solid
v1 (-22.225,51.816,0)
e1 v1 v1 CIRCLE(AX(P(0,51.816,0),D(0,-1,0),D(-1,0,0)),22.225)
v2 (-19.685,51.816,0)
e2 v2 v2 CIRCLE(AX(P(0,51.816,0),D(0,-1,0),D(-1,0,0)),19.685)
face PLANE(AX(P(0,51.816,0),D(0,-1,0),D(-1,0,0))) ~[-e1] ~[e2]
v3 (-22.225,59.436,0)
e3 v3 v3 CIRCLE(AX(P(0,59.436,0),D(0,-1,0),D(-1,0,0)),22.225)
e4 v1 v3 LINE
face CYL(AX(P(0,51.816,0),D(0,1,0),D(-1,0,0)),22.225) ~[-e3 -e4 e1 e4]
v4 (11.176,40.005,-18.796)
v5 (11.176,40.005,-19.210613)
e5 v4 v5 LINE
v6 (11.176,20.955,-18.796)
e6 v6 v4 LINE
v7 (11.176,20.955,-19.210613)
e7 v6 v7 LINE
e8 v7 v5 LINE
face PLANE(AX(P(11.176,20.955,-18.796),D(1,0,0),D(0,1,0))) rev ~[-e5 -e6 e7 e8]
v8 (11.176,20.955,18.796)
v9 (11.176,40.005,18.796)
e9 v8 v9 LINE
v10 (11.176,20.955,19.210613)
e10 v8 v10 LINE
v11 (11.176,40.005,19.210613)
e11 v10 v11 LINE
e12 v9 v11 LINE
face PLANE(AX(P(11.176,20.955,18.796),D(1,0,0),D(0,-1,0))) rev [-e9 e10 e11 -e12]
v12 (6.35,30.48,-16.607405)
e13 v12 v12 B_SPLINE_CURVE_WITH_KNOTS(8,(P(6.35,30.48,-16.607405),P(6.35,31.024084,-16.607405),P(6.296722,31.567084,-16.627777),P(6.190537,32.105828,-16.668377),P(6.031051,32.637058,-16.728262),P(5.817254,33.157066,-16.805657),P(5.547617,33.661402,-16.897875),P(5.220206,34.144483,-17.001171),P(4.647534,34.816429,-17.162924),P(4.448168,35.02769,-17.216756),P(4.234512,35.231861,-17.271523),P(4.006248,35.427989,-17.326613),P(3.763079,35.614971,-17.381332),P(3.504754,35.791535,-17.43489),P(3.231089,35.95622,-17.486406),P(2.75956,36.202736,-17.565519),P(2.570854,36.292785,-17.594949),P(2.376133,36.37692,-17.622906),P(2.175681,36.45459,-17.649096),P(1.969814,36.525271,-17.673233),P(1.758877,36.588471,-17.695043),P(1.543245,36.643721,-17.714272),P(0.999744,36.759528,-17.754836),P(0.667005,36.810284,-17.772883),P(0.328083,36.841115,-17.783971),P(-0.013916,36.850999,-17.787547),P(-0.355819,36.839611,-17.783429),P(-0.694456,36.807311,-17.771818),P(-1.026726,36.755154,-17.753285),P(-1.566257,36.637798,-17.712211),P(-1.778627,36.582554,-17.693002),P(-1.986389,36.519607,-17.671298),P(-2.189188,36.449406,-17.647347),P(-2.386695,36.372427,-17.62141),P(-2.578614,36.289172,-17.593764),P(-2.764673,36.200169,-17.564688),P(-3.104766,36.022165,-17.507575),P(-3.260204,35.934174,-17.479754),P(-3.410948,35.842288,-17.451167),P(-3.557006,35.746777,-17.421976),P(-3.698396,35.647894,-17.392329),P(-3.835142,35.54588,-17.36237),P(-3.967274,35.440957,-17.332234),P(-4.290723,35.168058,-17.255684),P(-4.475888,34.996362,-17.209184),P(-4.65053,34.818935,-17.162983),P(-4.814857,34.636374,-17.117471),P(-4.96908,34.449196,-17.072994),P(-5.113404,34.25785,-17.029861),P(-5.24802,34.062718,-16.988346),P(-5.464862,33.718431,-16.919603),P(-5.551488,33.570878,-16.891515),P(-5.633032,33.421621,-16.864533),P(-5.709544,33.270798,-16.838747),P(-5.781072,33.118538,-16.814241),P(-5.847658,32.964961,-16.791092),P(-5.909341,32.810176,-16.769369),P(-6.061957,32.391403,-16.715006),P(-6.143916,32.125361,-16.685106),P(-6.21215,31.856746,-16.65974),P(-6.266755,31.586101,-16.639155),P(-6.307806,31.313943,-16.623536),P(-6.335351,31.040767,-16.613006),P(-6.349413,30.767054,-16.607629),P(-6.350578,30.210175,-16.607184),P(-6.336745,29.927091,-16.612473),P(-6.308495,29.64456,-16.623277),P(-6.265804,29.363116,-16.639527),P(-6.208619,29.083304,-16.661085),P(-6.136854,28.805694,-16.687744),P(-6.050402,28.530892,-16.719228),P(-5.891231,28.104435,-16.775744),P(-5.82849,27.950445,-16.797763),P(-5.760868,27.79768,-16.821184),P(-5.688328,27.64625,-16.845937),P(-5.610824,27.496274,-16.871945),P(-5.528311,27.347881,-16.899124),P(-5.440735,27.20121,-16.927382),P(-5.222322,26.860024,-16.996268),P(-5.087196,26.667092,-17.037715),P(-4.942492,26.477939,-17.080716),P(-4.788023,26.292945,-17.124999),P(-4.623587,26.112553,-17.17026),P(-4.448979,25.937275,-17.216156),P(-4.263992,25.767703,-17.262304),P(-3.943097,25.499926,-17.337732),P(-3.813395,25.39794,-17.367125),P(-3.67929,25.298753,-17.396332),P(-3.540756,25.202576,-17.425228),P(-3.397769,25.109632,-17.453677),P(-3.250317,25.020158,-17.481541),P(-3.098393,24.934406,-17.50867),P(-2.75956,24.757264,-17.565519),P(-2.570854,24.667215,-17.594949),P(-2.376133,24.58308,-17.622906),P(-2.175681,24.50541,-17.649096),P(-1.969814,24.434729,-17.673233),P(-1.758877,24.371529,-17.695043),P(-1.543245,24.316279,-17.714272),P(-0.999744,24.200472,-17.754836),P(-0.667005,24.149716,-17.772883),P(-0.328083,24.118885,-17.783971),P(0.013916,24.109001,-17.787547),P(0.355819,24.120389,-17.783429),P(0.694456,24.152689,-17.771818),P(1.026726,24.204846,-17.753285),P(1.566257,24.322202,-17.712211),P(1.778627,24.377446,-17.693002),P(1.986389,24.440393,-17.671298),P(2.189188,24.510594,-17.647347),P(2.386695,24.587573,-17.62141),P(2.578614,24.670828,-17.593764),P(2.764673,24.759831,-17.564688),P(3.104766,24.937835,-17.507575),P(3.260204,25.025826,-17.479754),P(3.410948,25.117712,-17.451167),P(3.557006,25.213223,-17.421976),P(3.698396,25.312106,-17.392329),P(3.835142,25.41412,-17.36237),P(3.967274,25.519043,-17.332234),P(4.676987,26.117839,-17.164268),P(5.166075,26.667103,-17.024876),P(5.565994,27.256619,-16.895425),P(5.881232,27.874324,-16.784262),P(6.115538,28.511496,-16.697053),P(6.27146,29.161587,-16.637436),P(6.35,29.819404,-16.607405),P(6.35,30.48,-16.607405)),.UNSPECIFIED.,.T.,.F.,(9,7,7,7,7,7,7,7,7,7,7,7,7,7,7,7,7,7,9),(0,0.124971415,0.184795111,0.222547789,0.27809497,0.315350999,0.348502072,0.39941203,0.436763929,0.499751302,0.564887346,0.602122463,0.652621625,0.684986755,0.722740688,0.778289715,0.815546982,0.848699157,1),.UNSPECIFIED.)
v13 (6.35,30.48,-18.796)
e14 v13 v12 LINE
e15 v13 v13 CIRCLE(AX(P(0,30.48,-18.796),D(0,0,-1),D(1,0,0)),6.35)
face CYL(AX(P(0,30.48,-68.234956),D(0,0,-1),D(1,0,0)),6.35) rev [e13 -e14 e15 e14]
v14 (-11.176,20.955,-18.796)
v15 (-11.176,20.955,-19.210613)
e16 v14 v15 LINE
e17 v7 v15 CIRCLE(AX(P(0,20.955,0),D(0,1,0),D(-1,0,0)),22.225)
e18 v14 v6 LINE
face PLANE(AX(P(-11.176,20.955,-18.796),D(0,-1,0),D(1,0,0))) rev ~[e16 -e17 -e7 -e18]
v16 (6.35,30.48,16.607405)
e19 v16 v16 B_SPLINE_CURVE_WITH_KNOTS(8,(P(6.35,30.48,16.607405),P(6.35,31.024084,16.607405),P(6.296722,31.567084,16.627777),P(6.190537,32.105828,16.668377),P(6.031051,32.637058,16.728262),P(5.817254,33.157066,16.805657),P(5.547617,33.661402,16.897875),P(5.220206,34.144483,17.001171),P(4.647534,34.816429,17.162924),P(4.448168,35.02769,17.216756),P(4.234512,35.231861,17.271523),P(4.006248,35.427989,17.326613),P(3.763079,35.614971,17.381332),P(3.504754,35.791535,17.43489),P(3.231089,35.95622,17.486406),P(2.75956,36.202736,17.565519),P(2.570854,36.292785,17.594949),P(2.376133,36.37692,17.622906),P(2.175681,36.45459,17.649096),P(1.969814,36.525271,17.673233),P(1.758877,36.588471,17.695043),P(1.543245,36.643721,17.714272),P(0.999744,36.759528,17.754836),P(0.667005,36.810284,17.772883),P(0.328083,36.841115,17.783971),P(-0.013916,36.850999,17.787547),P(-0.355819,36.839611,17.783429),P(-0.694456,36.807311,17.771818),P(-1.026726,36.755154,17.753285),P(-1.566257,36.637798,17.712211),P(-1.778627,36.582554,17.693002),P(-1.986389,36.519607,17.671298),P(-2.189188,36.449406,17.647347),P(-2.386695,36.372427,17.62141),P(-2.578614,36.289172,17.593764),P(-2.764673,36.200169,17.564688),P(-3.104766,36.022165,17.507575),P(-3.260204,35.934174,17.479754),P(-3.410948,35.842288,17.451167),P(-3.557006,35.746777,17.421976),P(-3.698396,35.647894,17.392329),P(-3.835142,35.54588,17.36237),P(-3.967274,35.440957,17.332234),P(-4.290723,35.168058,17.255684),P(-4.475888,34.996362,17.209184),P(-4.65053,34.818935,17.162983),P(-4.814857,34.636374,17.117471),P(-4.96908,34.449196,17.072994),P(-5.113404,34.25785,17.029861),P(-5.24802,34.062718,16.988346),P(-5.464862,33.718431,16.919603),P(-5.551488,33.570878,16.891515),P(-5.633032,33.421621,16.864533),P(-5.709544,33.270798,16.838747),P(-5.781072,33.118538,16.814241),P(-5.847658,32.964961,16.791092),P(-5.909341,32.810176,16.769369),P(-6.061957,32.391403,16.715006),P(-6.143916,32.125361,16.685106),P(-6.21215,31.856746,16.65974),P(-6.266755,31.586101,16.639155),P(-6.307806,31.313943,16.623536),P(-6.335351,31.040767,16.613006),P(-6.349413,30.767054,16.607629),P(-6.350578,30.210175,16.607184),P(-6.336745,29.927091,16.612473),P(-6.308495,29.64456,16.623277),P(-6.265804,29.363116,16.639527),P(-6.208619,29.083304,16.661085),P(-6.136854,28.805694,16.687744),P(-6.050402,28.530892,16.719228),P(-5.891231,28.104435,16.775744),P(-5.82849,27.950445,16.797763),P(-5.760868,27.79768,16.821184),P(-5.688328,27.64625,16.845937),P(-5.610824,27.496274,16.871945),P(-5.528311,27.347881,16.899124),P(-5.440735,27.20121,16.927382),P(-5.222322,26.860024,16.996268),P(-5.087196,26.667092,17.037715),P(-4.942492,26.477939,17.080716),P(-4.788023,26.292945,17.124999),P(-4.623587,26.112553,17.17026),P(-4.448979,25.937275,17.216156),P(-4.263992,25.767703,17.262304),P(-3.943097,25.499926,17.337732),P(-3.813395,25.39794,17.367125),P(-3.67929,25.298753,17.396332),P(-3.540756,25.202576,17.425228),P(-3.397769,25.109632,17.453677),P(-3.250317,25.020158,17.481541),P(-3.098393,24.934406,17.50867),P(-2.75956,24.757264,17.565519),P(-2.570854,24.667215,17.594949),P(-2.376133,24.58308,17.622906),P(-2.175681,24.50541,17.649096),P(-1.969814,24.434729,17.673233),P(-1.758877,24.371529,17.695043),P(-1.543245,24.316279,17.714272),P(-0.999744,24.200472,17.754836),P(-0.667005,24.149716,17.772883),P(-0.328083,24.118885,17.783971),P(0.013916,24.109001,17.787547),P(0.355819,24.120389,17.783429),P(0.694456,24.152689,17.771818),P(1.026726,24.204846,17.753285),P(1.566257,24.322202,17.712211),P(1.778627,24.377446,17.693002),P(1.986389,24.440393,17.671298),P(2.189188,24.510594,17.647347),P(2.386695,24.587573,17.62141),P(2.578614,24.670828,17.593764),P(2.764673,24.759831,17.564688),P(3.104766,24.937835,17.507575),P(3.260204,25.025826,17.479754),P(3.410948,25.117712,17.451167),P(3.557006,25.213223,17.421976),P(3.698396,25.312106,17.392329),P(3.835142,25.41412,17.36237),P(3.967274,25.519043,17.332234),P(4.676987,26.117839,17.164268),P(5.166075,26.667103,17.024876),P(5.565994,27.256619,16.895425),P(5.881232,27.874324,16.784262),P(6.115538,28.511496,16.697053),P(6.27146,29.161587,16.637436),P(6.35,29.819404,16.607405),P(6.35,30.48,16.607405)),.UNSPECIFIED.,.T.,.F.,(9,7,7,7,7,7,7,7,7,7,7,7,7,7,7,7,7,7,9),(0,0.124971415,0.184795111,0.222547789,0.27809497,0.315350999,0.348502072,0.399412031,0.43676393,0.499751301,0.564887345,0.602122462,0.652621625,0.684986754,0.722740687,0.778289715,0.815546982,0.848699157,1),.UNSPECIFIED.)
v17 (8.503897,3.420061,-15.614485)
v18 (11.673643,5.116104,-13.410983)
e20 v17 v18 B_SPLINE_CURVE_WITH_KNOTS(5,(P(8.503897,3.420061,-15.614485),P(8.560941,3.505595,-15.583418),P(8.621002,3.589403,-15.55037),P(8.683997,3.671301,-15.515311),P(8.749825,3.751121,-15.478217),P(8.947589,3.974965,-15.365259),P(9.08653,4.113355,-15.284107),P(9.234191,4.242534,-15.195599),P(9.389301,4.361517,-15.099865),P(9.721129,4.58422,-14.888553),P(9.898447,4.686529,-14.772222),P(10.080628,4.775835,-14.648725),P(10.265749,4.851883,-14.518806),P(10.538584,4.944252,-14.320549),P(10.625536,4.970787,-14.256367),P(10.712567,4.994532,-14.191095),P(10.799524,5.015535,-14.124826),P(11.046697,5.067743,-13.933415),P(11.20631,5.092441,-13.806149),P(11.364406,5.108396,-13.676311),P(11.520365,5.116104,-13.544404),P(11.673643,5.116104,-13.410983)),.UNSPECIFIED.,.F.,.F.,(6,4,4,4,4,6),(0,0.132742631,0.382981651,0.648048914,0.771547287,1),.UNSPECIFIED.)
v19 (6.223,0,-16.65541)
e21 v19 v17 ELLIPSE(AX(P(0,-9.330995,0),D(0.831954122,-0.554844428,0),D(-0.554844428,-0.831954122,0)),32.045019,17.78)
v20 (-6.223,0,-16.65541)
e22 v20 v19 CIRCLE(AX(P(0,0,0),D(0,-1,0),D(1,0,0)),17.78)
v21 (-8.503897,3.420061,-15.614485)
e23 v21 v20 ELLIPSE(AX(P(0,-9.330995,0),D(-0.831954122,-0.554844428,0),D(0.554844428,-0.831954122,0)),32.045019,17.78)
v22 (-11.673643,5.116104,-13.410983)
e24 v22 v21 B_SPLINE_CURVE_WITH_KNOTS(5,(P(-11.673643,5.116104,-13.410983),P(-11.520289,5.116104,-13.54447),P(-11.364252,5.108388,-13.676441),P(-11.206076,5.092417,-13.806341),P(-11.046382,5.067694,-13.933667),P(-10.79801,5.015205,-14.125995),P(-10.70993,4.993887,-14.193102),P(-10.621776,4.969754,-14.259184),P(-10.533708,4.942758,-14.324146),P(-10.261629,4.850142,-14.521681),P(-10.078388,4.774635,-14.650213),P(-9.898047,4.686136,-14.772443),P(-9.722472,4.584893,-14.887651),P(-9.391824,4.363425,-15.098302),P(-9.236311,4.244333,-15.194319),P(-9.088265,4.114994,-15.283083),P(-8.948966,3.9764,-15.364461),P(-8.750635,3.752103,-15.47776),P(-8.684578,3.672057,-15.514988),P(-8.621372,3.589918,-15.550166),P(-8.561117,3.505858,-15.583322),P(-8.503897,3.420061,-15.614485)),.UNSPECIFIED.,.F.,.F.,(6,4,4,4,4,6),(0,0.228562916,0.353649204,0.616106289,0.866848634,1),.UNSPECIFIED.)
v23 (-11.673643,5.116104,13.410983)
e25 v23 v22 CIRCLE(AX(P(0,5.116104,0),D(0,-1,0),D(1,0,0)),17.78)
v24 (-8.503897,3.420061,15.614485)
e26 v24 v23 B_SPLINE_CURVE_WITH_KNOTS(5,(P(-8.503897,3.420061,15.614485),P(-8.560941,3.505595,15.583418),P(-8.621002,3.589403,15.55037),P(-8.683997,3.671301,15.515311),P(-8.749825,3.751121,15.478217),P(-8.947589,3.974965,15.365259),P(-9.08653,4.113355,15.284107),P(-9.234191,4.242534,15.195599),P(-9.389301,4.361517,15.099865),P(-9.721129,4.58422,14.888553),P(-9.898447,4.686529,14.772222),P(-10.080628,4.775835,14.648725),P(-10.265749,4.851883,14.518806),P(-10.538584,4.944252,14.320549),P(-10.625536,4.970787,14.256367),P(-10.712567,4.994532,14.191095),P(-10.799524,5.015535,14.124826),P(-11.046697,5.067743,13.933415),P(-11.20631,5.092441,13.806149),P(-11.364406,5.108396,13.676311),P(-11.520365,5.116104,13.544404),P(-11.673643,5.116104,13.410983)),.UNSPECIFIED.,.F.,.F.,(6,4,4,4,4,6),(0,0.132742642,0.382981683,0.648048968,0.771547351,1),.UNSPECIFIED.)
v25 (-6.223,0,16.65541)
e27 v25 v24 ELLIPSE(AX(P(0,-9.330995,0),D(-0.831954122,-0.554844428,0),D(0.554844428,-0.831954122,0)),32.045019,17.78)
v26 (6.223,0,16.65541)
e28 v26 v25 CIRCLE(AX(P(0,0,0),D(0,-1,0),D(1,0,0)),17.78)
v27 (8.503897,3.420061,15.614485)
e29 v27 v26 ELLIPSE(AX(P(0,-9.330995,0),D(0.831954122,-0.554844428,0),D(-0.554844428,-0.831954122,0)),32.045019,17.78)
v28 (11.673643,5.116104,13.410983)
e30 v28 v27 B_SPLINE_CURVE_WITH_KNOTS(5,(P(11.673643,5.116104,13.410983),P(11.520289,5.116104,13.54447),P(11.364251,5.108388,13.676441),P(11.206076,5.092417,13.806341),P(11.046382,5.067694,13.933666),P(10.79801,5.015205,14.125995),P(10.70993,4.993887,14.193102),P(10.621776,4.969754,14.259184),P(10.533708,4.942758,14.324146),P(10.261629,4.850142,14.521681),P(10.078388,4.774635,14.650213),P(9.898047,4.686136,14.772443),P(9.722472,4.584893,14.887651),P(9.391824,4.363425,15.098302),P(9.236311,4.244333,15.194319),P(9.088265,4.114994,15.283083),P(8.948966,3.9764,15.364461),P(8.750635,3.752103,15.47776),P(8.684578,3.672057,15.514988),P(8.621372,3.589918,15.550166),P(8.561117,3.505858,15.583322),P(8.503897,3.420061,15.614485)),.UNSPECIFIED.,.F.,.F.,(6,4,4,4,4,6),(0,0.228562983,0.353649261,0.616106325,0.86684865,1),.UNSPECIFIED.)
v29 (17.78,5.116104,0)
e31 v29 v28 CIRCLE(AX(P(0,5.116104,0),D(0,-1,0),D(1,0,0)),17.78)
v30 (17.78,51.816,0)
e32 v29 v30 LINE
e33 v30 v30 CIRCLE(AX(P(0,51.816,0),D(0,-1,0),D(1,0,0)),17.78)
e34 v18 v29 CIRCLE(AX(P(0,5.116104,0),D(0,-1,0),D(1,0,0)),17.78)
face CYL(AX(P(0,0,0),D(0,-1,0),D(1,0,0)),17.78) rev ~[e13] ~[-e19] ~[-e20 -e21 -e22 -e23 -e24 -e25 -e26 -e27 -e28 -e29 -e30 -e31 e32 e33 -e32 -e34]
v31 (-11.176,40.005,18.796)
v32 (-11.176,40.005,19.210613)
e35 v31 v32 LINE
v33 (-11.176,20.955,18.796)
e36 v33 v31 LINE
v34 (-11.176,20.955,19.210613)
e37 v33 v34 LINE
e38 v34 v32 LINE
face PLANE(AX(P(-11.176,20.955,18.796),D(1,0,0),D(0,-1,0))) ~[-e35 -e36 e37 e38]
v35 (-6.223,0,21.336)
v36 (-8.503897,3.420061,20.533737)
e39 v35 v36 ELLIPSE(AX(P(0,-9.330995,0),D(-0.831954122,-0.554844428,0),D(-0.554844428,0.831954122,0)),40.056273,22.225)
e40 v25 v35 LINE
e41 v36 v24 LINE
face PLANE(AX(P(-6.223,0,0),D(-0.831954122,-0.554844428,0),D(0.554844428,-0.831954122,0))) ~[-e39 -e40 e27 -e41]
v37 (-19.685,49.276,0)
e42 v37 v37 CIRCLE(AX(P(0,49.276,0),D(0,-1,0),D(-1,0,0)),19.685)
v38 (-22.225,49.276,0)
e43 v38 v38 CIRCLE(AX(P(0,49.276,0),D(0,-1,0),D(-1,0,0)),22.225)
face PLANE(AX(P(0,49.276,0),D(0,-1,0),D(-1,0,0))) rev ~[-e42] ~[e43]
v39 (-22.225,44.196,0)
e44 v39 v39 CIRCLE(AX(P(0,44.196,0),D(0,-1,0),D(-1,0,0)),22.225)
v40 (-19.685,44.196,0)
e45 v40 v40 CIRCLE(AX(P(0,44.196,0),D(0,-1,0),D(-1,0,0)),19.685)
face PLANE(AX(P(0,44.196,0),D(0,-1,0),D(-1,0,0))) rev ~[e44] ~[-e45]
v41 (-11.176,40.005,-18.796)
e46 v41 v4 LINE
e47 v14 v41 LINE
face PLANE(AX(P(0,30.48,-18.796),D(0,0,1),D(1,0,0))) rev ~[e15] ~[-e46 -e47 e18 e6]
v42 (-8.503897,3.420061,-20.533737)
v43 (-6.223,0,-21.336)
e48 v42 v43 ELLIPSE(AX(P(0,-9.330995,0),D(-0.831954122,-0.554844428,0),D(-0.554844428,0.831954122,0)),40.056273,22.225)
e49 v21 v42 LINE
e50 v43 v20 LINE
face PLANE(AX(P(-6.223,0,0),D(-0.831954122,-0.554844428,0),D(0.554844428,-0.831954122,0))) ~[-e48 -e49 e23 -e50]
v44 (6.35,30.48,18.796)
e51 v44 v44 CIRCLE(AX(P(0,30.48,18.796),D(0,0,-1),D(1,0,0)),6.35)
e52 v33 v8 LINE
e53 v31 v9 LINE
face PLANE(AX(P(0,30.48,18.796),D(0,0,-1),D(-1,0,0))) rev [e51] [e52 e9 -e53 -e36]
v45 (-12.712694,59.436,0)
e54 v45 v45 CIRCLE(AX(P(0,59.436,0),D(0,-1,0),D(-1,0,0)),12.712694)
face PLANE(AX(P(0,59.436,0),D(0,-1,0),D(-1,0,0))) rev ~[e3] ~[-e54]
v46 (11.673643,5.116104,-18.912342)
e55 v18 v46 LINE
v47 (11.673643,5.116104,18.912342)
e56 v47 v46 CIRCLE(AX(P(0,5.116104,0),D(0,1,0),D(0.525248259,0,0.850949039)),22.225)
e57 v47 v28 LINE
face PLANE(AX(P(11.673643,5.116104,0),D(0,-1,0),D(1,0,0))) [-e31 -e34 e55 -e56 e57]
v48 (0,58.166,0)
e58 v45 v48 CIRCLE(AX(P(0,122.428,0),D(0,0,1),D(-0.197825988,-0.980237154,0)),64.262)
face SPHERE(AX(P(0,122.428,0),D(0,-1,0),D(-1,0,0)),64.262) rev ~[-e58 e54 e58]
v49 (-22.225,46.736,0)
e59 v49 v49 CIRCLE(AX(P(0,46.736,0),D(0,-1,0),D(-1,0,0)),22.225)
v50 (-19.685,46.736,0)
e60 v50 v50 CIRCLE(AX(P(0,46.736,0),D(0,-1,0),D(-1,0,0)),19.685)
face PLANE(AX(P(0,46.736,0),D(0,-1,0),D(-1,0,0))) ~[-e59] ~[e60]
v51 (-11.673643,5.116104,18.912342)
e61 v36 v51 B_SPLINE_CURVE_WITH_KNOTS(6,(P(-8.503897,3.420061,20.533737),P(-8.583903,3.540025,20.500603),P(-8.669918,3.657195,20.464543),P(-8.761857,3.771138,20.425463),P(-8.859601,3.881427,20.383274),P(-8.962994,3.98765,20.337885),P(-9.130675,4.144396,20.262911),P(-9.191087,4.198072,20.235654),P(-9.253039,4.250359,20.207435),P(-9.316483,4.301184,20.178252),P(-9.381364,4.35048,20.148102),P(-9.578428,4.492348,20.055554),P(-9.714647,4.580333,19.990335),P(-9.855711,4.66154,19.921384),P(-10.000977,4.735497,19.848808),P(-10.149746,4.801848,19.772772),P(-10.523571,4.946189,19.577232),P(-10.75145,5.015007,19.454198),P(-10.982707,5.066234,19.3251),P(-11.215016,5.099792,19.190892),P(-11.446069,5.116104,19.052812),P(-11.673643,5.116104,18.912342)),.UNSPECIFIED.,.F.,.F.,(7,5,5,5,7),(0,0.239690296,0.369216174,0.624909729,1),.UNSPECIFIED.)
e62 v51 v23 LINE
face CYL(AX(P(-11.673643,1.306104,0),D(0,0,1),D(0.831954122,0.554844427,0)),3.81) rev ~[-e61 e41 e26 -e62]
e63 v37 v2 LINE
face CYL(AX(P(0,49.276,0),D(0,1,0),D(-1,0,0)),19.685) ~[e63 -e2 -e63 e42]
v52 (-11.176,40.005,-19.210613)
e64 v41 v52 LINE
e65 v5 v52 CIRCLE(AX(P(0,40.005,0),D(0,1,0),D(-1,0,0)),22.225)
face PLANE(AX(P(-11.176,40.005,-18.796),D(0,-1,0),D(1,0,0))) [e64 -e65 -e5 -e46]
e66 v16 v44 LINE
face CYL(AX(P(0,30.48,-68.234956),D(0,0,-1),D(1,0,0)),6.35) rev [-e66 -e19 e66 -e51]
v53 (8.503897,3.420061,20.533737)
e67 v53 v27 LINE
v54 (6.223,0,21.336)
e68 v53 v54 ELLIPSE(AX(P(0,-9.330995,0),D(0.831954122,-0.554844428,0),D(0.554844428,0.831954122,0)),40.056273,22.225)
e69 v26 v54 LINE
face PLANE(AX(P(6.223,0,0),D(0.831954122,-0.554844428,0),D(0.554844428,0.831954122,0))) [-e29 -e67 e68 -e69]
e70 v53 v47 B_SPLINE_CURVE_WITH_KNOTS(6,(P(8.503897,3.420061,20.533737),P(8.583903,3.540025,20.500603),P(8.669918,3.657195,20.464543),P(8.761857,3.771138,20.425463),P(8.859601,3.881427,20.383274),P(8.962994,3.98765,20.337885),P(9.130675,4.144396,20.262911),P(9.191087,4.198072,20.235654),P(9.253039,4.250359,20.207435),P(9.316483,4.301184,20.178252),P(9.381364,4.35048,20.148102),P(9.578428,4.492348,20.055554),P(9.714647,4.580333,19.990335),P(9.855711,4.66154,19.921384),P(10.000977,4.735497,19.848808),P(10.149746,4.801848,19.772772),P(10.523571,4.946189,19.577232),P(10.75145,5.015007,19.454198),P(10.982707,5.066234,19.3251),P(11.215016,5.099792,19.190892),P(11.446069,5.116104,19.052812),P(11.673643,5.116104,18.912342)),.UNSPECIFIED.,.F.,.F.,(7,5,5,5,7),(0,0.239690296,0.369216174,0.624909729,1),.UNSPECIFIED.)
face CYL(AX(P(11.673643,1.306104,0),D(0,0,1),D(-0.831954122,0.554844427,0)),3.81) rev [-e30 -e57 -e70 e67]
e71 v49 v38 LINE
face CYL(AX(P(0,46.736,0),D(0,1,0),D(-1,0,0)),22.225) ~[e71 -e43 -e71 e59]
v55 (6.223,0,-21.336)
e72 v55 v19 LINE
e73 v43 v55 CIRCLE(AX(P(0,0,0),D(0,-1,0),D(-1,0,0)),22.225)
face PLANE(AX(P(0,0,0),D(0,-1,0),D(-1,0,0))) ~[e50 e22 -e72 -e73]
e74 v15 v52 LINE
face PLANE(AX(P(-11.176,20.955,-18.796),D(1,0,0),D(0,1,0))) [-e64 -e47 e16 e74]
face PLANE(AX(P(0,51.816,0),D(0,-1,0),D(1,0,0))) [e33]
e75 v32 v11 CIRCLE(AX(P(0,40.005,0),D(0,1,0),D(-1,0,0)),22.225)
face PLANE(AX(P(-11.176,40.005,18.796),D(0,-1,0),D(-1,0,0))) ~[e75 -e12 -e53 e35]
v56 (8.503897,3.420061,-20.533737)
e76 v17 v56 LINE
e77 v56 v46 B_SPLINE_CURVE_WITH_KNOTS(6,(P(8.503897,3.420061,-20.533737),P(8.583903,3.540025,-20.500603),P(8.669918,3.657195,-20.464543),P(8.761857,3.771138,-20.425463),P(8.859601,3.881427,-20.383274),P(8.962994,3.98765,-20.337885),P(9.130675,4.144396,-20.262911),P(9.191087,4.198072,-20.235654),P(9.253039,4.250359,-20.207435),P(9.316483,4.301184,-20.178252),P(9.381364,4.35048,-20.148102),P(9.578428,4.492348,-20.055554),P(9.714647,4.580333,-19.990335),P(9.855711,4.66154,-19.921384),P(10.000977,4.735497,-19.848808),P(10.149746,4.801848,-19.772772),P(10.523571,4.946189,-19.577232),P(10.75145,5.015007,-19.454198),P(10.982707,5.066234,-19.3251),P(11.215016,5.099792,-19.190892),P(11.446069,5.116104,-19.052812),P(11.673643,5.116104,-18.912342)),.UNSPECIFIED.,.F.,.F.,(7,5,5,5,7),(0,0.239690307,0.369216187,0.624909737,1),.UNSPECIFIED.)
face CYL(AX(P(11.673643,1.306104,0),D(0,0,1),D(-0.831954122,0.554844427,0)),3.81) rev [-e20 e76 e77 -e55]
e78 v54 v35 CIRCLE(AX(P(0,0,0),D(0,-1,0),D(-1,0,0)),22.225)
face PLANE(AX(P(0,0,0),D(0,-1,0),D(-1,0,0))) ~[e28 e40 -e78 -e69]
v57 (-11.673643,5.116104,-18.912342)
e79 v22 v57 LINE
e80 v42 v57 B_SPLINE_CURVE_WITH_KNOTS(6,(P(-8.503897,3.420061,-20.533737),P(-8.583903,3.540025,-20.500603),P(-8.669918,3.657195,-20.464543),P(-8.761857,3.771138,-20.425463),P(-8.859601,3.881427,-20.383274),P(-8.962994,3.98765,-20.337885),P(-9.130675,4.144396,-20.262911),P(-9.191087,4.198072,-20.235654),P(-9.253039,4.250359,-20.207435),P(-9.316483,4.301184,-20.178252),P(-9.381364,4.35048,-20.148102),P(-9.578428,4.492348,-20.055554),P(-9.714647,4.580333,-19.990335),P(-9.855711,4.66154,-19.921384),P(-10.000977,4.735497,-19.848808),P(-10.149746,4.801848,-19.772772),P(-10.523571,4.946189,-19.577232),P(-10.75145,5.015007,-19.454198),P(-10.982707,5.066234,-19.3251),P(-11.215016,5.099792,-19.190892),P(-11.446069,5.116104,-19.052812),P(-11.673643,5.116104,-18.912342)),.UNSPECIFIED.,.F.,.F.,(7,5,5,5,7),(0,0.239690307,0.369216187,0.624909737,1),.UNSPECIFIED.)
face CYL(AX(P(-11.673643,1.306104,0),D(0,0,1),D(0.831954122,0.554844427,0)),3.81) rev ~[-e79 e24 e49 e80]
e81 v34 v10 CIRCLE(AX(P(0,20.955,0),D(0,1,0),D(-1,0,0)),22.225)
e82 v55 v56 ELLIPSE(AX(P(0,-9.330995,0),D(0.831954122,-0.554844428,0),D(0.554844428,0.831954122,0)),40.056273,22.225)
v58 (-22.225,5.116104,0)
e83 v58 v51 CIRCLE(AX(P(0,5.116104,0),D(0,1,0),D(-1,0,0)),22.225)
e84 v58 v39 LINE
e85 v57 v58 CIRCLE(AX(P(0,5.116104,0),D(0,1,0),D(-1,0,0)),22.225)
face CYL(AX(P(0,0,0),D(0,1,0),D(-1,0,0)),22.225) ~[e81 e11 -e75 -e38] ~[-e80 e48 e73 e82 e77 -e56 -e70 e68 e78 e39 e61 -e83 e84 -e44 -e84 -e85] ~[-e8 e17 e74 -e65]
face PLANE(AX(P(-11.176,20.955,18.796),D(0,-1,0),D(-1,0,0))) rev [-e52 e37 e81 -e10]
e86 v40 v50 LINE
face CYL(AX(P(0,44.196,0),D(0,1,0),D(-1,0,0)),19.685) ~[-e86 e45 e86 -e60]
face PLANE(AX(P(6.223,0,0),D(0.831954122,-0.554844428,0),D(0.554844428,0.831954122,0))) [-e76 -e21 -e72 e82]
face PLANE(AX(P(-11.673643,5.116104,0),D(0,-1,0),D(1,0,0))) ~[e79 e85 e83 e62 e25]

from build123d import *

# Parameters (mm, degrees)
SKETCH2_R               = 17.78
CUT_EXTRUDE1_DEPTH      = 51.816
CUT_EXTRUDE2_DEPTH      = 68.23495628
CUT_EXTRUDE2_DEPTH_BACK = 68.23495628
SKETCH3_R               = 6.35
CUT_EXTRUDE3_START      = -18.796
SKETCH4_W               = 22.352
SKETCH4_H               = 19.05
CUT_EXTRUDE3_DEPTH      = 49.438956346
CUT_EXTRUDE4_DEPTH      = 68.23495628


with BuildPart() as part:
    # Sketch1 → Revolve1 (revolve)
    with BuildSketch(Plane.XY, mode=Mode.PRIVATE) as revolve1_sk:
        with BuildLine():
            Line((0, 0), (22.225, 0))
            Line((22.225, 0), (22.225, 44.196))
            Line((22.225, 44.196), (19.685, 44.196))
            Line((19.685, 44.196), (19.685, 46.736))
            Line((19.685, 46.736), (22.225, 46.736))
            Line((22.225, 46.736), (22.225, 49.276))
            Line((22.225, 49.276), (19.685, 49.276))
            Line((19.685, 49.276), (19.685, 51.816))
            Line((19.685, 51.816), (22.225, 51.816))
            Line((22.225, 51.816), (22.225, 59.436))
            Line((22.225, 59.436), (12.712693656, 59.436))
            ThreePointArc((12.712693656, 59.436), (6.387986381, 58.484288237), (0, 58.166))
            Line((0, 58.166), (0, 0))
        make_face()
    revolve(revolve1_sk.sketch.rotate(Axis((0, 58.166, 0), (0, -1, 0)), 180), axis=Axis((0, 58.166, 0), (0, -1, 0)))

    # Sketch2 → Cut-Extrude1 (cut)
    with BuildSketch(Plane.XZ):
        Circle(SKETCH2_R)
    extrude(amount=-CUT_EXTRUDE1_DEPTH, mode=Mode.SUBTRACT)

    # Sketch3 → Cut-Extrude2 (cut, two sides: drawn at the far end of the back side and taken through both)
    with BuildSketch(Plane.XY.offset(-CUT_EXTRUDE2_DEPTH_BACK)):
        with Locations((0, 30.48)):
            Circle(SKETCH3_R)
    extrude(amount=CUT_EXTRUDE2_DEPTH + CUT_EXTRUDE2_DEPTH_BACK, mode=Mode.SUBTRACT)

    # Sketch4 → Cut-Extrude3 (cut, through all)
    with BuildSketch(Plane.XY.offset(CUT_EXTRUDE3_START)):
        with Locations((0, 30.48)):
            Rectangle(SKETCH4_W, SKETCH4_H)
    cut_extrude3 = extrude(amount=-CUT_EXTRUDE3_DEPTH, mode=Mode.SUBTRACT)

    # Mirror1: Cut-Extrude3 across plane
    add(cut_extrude3.mirror(Plane.XY), mode=Mode.SUBTRACT)

    # Sketch5 → Cut-Extrude4 (cut, symmetric)
    with BuildSketch(Plane.XY):
        with BuildLine():
            Line((6.223, 0), (8.503897348, 3.420061294))
            ThreePointArc((8.503897348, 3.420061294), (9.876155028, 4.665440061), (11.673642553, 5.116104025))
            Line((11.673642553, 5.116104025), (22.225, 5.116104025))
            Line((22.225, 5.116104025), (22.225, 0))
            Line((22.225, 0), (6.223, 0))
        make_face()
    cut_extrude4 = extrude(amount=CUT_EXTRUDE4_DEPTH, both=True, mode=Mode.SUBTRACT)

    # Mirror2: Cut-Extrude4 across plane
    add(cut_extrude4.mirror(Plane(origin=(0, 0, 0), x_dir=(0, 0, 1), z_dir=(1, 0, 0))), mode=Mode.SUBTRACT)


solid = part.part
